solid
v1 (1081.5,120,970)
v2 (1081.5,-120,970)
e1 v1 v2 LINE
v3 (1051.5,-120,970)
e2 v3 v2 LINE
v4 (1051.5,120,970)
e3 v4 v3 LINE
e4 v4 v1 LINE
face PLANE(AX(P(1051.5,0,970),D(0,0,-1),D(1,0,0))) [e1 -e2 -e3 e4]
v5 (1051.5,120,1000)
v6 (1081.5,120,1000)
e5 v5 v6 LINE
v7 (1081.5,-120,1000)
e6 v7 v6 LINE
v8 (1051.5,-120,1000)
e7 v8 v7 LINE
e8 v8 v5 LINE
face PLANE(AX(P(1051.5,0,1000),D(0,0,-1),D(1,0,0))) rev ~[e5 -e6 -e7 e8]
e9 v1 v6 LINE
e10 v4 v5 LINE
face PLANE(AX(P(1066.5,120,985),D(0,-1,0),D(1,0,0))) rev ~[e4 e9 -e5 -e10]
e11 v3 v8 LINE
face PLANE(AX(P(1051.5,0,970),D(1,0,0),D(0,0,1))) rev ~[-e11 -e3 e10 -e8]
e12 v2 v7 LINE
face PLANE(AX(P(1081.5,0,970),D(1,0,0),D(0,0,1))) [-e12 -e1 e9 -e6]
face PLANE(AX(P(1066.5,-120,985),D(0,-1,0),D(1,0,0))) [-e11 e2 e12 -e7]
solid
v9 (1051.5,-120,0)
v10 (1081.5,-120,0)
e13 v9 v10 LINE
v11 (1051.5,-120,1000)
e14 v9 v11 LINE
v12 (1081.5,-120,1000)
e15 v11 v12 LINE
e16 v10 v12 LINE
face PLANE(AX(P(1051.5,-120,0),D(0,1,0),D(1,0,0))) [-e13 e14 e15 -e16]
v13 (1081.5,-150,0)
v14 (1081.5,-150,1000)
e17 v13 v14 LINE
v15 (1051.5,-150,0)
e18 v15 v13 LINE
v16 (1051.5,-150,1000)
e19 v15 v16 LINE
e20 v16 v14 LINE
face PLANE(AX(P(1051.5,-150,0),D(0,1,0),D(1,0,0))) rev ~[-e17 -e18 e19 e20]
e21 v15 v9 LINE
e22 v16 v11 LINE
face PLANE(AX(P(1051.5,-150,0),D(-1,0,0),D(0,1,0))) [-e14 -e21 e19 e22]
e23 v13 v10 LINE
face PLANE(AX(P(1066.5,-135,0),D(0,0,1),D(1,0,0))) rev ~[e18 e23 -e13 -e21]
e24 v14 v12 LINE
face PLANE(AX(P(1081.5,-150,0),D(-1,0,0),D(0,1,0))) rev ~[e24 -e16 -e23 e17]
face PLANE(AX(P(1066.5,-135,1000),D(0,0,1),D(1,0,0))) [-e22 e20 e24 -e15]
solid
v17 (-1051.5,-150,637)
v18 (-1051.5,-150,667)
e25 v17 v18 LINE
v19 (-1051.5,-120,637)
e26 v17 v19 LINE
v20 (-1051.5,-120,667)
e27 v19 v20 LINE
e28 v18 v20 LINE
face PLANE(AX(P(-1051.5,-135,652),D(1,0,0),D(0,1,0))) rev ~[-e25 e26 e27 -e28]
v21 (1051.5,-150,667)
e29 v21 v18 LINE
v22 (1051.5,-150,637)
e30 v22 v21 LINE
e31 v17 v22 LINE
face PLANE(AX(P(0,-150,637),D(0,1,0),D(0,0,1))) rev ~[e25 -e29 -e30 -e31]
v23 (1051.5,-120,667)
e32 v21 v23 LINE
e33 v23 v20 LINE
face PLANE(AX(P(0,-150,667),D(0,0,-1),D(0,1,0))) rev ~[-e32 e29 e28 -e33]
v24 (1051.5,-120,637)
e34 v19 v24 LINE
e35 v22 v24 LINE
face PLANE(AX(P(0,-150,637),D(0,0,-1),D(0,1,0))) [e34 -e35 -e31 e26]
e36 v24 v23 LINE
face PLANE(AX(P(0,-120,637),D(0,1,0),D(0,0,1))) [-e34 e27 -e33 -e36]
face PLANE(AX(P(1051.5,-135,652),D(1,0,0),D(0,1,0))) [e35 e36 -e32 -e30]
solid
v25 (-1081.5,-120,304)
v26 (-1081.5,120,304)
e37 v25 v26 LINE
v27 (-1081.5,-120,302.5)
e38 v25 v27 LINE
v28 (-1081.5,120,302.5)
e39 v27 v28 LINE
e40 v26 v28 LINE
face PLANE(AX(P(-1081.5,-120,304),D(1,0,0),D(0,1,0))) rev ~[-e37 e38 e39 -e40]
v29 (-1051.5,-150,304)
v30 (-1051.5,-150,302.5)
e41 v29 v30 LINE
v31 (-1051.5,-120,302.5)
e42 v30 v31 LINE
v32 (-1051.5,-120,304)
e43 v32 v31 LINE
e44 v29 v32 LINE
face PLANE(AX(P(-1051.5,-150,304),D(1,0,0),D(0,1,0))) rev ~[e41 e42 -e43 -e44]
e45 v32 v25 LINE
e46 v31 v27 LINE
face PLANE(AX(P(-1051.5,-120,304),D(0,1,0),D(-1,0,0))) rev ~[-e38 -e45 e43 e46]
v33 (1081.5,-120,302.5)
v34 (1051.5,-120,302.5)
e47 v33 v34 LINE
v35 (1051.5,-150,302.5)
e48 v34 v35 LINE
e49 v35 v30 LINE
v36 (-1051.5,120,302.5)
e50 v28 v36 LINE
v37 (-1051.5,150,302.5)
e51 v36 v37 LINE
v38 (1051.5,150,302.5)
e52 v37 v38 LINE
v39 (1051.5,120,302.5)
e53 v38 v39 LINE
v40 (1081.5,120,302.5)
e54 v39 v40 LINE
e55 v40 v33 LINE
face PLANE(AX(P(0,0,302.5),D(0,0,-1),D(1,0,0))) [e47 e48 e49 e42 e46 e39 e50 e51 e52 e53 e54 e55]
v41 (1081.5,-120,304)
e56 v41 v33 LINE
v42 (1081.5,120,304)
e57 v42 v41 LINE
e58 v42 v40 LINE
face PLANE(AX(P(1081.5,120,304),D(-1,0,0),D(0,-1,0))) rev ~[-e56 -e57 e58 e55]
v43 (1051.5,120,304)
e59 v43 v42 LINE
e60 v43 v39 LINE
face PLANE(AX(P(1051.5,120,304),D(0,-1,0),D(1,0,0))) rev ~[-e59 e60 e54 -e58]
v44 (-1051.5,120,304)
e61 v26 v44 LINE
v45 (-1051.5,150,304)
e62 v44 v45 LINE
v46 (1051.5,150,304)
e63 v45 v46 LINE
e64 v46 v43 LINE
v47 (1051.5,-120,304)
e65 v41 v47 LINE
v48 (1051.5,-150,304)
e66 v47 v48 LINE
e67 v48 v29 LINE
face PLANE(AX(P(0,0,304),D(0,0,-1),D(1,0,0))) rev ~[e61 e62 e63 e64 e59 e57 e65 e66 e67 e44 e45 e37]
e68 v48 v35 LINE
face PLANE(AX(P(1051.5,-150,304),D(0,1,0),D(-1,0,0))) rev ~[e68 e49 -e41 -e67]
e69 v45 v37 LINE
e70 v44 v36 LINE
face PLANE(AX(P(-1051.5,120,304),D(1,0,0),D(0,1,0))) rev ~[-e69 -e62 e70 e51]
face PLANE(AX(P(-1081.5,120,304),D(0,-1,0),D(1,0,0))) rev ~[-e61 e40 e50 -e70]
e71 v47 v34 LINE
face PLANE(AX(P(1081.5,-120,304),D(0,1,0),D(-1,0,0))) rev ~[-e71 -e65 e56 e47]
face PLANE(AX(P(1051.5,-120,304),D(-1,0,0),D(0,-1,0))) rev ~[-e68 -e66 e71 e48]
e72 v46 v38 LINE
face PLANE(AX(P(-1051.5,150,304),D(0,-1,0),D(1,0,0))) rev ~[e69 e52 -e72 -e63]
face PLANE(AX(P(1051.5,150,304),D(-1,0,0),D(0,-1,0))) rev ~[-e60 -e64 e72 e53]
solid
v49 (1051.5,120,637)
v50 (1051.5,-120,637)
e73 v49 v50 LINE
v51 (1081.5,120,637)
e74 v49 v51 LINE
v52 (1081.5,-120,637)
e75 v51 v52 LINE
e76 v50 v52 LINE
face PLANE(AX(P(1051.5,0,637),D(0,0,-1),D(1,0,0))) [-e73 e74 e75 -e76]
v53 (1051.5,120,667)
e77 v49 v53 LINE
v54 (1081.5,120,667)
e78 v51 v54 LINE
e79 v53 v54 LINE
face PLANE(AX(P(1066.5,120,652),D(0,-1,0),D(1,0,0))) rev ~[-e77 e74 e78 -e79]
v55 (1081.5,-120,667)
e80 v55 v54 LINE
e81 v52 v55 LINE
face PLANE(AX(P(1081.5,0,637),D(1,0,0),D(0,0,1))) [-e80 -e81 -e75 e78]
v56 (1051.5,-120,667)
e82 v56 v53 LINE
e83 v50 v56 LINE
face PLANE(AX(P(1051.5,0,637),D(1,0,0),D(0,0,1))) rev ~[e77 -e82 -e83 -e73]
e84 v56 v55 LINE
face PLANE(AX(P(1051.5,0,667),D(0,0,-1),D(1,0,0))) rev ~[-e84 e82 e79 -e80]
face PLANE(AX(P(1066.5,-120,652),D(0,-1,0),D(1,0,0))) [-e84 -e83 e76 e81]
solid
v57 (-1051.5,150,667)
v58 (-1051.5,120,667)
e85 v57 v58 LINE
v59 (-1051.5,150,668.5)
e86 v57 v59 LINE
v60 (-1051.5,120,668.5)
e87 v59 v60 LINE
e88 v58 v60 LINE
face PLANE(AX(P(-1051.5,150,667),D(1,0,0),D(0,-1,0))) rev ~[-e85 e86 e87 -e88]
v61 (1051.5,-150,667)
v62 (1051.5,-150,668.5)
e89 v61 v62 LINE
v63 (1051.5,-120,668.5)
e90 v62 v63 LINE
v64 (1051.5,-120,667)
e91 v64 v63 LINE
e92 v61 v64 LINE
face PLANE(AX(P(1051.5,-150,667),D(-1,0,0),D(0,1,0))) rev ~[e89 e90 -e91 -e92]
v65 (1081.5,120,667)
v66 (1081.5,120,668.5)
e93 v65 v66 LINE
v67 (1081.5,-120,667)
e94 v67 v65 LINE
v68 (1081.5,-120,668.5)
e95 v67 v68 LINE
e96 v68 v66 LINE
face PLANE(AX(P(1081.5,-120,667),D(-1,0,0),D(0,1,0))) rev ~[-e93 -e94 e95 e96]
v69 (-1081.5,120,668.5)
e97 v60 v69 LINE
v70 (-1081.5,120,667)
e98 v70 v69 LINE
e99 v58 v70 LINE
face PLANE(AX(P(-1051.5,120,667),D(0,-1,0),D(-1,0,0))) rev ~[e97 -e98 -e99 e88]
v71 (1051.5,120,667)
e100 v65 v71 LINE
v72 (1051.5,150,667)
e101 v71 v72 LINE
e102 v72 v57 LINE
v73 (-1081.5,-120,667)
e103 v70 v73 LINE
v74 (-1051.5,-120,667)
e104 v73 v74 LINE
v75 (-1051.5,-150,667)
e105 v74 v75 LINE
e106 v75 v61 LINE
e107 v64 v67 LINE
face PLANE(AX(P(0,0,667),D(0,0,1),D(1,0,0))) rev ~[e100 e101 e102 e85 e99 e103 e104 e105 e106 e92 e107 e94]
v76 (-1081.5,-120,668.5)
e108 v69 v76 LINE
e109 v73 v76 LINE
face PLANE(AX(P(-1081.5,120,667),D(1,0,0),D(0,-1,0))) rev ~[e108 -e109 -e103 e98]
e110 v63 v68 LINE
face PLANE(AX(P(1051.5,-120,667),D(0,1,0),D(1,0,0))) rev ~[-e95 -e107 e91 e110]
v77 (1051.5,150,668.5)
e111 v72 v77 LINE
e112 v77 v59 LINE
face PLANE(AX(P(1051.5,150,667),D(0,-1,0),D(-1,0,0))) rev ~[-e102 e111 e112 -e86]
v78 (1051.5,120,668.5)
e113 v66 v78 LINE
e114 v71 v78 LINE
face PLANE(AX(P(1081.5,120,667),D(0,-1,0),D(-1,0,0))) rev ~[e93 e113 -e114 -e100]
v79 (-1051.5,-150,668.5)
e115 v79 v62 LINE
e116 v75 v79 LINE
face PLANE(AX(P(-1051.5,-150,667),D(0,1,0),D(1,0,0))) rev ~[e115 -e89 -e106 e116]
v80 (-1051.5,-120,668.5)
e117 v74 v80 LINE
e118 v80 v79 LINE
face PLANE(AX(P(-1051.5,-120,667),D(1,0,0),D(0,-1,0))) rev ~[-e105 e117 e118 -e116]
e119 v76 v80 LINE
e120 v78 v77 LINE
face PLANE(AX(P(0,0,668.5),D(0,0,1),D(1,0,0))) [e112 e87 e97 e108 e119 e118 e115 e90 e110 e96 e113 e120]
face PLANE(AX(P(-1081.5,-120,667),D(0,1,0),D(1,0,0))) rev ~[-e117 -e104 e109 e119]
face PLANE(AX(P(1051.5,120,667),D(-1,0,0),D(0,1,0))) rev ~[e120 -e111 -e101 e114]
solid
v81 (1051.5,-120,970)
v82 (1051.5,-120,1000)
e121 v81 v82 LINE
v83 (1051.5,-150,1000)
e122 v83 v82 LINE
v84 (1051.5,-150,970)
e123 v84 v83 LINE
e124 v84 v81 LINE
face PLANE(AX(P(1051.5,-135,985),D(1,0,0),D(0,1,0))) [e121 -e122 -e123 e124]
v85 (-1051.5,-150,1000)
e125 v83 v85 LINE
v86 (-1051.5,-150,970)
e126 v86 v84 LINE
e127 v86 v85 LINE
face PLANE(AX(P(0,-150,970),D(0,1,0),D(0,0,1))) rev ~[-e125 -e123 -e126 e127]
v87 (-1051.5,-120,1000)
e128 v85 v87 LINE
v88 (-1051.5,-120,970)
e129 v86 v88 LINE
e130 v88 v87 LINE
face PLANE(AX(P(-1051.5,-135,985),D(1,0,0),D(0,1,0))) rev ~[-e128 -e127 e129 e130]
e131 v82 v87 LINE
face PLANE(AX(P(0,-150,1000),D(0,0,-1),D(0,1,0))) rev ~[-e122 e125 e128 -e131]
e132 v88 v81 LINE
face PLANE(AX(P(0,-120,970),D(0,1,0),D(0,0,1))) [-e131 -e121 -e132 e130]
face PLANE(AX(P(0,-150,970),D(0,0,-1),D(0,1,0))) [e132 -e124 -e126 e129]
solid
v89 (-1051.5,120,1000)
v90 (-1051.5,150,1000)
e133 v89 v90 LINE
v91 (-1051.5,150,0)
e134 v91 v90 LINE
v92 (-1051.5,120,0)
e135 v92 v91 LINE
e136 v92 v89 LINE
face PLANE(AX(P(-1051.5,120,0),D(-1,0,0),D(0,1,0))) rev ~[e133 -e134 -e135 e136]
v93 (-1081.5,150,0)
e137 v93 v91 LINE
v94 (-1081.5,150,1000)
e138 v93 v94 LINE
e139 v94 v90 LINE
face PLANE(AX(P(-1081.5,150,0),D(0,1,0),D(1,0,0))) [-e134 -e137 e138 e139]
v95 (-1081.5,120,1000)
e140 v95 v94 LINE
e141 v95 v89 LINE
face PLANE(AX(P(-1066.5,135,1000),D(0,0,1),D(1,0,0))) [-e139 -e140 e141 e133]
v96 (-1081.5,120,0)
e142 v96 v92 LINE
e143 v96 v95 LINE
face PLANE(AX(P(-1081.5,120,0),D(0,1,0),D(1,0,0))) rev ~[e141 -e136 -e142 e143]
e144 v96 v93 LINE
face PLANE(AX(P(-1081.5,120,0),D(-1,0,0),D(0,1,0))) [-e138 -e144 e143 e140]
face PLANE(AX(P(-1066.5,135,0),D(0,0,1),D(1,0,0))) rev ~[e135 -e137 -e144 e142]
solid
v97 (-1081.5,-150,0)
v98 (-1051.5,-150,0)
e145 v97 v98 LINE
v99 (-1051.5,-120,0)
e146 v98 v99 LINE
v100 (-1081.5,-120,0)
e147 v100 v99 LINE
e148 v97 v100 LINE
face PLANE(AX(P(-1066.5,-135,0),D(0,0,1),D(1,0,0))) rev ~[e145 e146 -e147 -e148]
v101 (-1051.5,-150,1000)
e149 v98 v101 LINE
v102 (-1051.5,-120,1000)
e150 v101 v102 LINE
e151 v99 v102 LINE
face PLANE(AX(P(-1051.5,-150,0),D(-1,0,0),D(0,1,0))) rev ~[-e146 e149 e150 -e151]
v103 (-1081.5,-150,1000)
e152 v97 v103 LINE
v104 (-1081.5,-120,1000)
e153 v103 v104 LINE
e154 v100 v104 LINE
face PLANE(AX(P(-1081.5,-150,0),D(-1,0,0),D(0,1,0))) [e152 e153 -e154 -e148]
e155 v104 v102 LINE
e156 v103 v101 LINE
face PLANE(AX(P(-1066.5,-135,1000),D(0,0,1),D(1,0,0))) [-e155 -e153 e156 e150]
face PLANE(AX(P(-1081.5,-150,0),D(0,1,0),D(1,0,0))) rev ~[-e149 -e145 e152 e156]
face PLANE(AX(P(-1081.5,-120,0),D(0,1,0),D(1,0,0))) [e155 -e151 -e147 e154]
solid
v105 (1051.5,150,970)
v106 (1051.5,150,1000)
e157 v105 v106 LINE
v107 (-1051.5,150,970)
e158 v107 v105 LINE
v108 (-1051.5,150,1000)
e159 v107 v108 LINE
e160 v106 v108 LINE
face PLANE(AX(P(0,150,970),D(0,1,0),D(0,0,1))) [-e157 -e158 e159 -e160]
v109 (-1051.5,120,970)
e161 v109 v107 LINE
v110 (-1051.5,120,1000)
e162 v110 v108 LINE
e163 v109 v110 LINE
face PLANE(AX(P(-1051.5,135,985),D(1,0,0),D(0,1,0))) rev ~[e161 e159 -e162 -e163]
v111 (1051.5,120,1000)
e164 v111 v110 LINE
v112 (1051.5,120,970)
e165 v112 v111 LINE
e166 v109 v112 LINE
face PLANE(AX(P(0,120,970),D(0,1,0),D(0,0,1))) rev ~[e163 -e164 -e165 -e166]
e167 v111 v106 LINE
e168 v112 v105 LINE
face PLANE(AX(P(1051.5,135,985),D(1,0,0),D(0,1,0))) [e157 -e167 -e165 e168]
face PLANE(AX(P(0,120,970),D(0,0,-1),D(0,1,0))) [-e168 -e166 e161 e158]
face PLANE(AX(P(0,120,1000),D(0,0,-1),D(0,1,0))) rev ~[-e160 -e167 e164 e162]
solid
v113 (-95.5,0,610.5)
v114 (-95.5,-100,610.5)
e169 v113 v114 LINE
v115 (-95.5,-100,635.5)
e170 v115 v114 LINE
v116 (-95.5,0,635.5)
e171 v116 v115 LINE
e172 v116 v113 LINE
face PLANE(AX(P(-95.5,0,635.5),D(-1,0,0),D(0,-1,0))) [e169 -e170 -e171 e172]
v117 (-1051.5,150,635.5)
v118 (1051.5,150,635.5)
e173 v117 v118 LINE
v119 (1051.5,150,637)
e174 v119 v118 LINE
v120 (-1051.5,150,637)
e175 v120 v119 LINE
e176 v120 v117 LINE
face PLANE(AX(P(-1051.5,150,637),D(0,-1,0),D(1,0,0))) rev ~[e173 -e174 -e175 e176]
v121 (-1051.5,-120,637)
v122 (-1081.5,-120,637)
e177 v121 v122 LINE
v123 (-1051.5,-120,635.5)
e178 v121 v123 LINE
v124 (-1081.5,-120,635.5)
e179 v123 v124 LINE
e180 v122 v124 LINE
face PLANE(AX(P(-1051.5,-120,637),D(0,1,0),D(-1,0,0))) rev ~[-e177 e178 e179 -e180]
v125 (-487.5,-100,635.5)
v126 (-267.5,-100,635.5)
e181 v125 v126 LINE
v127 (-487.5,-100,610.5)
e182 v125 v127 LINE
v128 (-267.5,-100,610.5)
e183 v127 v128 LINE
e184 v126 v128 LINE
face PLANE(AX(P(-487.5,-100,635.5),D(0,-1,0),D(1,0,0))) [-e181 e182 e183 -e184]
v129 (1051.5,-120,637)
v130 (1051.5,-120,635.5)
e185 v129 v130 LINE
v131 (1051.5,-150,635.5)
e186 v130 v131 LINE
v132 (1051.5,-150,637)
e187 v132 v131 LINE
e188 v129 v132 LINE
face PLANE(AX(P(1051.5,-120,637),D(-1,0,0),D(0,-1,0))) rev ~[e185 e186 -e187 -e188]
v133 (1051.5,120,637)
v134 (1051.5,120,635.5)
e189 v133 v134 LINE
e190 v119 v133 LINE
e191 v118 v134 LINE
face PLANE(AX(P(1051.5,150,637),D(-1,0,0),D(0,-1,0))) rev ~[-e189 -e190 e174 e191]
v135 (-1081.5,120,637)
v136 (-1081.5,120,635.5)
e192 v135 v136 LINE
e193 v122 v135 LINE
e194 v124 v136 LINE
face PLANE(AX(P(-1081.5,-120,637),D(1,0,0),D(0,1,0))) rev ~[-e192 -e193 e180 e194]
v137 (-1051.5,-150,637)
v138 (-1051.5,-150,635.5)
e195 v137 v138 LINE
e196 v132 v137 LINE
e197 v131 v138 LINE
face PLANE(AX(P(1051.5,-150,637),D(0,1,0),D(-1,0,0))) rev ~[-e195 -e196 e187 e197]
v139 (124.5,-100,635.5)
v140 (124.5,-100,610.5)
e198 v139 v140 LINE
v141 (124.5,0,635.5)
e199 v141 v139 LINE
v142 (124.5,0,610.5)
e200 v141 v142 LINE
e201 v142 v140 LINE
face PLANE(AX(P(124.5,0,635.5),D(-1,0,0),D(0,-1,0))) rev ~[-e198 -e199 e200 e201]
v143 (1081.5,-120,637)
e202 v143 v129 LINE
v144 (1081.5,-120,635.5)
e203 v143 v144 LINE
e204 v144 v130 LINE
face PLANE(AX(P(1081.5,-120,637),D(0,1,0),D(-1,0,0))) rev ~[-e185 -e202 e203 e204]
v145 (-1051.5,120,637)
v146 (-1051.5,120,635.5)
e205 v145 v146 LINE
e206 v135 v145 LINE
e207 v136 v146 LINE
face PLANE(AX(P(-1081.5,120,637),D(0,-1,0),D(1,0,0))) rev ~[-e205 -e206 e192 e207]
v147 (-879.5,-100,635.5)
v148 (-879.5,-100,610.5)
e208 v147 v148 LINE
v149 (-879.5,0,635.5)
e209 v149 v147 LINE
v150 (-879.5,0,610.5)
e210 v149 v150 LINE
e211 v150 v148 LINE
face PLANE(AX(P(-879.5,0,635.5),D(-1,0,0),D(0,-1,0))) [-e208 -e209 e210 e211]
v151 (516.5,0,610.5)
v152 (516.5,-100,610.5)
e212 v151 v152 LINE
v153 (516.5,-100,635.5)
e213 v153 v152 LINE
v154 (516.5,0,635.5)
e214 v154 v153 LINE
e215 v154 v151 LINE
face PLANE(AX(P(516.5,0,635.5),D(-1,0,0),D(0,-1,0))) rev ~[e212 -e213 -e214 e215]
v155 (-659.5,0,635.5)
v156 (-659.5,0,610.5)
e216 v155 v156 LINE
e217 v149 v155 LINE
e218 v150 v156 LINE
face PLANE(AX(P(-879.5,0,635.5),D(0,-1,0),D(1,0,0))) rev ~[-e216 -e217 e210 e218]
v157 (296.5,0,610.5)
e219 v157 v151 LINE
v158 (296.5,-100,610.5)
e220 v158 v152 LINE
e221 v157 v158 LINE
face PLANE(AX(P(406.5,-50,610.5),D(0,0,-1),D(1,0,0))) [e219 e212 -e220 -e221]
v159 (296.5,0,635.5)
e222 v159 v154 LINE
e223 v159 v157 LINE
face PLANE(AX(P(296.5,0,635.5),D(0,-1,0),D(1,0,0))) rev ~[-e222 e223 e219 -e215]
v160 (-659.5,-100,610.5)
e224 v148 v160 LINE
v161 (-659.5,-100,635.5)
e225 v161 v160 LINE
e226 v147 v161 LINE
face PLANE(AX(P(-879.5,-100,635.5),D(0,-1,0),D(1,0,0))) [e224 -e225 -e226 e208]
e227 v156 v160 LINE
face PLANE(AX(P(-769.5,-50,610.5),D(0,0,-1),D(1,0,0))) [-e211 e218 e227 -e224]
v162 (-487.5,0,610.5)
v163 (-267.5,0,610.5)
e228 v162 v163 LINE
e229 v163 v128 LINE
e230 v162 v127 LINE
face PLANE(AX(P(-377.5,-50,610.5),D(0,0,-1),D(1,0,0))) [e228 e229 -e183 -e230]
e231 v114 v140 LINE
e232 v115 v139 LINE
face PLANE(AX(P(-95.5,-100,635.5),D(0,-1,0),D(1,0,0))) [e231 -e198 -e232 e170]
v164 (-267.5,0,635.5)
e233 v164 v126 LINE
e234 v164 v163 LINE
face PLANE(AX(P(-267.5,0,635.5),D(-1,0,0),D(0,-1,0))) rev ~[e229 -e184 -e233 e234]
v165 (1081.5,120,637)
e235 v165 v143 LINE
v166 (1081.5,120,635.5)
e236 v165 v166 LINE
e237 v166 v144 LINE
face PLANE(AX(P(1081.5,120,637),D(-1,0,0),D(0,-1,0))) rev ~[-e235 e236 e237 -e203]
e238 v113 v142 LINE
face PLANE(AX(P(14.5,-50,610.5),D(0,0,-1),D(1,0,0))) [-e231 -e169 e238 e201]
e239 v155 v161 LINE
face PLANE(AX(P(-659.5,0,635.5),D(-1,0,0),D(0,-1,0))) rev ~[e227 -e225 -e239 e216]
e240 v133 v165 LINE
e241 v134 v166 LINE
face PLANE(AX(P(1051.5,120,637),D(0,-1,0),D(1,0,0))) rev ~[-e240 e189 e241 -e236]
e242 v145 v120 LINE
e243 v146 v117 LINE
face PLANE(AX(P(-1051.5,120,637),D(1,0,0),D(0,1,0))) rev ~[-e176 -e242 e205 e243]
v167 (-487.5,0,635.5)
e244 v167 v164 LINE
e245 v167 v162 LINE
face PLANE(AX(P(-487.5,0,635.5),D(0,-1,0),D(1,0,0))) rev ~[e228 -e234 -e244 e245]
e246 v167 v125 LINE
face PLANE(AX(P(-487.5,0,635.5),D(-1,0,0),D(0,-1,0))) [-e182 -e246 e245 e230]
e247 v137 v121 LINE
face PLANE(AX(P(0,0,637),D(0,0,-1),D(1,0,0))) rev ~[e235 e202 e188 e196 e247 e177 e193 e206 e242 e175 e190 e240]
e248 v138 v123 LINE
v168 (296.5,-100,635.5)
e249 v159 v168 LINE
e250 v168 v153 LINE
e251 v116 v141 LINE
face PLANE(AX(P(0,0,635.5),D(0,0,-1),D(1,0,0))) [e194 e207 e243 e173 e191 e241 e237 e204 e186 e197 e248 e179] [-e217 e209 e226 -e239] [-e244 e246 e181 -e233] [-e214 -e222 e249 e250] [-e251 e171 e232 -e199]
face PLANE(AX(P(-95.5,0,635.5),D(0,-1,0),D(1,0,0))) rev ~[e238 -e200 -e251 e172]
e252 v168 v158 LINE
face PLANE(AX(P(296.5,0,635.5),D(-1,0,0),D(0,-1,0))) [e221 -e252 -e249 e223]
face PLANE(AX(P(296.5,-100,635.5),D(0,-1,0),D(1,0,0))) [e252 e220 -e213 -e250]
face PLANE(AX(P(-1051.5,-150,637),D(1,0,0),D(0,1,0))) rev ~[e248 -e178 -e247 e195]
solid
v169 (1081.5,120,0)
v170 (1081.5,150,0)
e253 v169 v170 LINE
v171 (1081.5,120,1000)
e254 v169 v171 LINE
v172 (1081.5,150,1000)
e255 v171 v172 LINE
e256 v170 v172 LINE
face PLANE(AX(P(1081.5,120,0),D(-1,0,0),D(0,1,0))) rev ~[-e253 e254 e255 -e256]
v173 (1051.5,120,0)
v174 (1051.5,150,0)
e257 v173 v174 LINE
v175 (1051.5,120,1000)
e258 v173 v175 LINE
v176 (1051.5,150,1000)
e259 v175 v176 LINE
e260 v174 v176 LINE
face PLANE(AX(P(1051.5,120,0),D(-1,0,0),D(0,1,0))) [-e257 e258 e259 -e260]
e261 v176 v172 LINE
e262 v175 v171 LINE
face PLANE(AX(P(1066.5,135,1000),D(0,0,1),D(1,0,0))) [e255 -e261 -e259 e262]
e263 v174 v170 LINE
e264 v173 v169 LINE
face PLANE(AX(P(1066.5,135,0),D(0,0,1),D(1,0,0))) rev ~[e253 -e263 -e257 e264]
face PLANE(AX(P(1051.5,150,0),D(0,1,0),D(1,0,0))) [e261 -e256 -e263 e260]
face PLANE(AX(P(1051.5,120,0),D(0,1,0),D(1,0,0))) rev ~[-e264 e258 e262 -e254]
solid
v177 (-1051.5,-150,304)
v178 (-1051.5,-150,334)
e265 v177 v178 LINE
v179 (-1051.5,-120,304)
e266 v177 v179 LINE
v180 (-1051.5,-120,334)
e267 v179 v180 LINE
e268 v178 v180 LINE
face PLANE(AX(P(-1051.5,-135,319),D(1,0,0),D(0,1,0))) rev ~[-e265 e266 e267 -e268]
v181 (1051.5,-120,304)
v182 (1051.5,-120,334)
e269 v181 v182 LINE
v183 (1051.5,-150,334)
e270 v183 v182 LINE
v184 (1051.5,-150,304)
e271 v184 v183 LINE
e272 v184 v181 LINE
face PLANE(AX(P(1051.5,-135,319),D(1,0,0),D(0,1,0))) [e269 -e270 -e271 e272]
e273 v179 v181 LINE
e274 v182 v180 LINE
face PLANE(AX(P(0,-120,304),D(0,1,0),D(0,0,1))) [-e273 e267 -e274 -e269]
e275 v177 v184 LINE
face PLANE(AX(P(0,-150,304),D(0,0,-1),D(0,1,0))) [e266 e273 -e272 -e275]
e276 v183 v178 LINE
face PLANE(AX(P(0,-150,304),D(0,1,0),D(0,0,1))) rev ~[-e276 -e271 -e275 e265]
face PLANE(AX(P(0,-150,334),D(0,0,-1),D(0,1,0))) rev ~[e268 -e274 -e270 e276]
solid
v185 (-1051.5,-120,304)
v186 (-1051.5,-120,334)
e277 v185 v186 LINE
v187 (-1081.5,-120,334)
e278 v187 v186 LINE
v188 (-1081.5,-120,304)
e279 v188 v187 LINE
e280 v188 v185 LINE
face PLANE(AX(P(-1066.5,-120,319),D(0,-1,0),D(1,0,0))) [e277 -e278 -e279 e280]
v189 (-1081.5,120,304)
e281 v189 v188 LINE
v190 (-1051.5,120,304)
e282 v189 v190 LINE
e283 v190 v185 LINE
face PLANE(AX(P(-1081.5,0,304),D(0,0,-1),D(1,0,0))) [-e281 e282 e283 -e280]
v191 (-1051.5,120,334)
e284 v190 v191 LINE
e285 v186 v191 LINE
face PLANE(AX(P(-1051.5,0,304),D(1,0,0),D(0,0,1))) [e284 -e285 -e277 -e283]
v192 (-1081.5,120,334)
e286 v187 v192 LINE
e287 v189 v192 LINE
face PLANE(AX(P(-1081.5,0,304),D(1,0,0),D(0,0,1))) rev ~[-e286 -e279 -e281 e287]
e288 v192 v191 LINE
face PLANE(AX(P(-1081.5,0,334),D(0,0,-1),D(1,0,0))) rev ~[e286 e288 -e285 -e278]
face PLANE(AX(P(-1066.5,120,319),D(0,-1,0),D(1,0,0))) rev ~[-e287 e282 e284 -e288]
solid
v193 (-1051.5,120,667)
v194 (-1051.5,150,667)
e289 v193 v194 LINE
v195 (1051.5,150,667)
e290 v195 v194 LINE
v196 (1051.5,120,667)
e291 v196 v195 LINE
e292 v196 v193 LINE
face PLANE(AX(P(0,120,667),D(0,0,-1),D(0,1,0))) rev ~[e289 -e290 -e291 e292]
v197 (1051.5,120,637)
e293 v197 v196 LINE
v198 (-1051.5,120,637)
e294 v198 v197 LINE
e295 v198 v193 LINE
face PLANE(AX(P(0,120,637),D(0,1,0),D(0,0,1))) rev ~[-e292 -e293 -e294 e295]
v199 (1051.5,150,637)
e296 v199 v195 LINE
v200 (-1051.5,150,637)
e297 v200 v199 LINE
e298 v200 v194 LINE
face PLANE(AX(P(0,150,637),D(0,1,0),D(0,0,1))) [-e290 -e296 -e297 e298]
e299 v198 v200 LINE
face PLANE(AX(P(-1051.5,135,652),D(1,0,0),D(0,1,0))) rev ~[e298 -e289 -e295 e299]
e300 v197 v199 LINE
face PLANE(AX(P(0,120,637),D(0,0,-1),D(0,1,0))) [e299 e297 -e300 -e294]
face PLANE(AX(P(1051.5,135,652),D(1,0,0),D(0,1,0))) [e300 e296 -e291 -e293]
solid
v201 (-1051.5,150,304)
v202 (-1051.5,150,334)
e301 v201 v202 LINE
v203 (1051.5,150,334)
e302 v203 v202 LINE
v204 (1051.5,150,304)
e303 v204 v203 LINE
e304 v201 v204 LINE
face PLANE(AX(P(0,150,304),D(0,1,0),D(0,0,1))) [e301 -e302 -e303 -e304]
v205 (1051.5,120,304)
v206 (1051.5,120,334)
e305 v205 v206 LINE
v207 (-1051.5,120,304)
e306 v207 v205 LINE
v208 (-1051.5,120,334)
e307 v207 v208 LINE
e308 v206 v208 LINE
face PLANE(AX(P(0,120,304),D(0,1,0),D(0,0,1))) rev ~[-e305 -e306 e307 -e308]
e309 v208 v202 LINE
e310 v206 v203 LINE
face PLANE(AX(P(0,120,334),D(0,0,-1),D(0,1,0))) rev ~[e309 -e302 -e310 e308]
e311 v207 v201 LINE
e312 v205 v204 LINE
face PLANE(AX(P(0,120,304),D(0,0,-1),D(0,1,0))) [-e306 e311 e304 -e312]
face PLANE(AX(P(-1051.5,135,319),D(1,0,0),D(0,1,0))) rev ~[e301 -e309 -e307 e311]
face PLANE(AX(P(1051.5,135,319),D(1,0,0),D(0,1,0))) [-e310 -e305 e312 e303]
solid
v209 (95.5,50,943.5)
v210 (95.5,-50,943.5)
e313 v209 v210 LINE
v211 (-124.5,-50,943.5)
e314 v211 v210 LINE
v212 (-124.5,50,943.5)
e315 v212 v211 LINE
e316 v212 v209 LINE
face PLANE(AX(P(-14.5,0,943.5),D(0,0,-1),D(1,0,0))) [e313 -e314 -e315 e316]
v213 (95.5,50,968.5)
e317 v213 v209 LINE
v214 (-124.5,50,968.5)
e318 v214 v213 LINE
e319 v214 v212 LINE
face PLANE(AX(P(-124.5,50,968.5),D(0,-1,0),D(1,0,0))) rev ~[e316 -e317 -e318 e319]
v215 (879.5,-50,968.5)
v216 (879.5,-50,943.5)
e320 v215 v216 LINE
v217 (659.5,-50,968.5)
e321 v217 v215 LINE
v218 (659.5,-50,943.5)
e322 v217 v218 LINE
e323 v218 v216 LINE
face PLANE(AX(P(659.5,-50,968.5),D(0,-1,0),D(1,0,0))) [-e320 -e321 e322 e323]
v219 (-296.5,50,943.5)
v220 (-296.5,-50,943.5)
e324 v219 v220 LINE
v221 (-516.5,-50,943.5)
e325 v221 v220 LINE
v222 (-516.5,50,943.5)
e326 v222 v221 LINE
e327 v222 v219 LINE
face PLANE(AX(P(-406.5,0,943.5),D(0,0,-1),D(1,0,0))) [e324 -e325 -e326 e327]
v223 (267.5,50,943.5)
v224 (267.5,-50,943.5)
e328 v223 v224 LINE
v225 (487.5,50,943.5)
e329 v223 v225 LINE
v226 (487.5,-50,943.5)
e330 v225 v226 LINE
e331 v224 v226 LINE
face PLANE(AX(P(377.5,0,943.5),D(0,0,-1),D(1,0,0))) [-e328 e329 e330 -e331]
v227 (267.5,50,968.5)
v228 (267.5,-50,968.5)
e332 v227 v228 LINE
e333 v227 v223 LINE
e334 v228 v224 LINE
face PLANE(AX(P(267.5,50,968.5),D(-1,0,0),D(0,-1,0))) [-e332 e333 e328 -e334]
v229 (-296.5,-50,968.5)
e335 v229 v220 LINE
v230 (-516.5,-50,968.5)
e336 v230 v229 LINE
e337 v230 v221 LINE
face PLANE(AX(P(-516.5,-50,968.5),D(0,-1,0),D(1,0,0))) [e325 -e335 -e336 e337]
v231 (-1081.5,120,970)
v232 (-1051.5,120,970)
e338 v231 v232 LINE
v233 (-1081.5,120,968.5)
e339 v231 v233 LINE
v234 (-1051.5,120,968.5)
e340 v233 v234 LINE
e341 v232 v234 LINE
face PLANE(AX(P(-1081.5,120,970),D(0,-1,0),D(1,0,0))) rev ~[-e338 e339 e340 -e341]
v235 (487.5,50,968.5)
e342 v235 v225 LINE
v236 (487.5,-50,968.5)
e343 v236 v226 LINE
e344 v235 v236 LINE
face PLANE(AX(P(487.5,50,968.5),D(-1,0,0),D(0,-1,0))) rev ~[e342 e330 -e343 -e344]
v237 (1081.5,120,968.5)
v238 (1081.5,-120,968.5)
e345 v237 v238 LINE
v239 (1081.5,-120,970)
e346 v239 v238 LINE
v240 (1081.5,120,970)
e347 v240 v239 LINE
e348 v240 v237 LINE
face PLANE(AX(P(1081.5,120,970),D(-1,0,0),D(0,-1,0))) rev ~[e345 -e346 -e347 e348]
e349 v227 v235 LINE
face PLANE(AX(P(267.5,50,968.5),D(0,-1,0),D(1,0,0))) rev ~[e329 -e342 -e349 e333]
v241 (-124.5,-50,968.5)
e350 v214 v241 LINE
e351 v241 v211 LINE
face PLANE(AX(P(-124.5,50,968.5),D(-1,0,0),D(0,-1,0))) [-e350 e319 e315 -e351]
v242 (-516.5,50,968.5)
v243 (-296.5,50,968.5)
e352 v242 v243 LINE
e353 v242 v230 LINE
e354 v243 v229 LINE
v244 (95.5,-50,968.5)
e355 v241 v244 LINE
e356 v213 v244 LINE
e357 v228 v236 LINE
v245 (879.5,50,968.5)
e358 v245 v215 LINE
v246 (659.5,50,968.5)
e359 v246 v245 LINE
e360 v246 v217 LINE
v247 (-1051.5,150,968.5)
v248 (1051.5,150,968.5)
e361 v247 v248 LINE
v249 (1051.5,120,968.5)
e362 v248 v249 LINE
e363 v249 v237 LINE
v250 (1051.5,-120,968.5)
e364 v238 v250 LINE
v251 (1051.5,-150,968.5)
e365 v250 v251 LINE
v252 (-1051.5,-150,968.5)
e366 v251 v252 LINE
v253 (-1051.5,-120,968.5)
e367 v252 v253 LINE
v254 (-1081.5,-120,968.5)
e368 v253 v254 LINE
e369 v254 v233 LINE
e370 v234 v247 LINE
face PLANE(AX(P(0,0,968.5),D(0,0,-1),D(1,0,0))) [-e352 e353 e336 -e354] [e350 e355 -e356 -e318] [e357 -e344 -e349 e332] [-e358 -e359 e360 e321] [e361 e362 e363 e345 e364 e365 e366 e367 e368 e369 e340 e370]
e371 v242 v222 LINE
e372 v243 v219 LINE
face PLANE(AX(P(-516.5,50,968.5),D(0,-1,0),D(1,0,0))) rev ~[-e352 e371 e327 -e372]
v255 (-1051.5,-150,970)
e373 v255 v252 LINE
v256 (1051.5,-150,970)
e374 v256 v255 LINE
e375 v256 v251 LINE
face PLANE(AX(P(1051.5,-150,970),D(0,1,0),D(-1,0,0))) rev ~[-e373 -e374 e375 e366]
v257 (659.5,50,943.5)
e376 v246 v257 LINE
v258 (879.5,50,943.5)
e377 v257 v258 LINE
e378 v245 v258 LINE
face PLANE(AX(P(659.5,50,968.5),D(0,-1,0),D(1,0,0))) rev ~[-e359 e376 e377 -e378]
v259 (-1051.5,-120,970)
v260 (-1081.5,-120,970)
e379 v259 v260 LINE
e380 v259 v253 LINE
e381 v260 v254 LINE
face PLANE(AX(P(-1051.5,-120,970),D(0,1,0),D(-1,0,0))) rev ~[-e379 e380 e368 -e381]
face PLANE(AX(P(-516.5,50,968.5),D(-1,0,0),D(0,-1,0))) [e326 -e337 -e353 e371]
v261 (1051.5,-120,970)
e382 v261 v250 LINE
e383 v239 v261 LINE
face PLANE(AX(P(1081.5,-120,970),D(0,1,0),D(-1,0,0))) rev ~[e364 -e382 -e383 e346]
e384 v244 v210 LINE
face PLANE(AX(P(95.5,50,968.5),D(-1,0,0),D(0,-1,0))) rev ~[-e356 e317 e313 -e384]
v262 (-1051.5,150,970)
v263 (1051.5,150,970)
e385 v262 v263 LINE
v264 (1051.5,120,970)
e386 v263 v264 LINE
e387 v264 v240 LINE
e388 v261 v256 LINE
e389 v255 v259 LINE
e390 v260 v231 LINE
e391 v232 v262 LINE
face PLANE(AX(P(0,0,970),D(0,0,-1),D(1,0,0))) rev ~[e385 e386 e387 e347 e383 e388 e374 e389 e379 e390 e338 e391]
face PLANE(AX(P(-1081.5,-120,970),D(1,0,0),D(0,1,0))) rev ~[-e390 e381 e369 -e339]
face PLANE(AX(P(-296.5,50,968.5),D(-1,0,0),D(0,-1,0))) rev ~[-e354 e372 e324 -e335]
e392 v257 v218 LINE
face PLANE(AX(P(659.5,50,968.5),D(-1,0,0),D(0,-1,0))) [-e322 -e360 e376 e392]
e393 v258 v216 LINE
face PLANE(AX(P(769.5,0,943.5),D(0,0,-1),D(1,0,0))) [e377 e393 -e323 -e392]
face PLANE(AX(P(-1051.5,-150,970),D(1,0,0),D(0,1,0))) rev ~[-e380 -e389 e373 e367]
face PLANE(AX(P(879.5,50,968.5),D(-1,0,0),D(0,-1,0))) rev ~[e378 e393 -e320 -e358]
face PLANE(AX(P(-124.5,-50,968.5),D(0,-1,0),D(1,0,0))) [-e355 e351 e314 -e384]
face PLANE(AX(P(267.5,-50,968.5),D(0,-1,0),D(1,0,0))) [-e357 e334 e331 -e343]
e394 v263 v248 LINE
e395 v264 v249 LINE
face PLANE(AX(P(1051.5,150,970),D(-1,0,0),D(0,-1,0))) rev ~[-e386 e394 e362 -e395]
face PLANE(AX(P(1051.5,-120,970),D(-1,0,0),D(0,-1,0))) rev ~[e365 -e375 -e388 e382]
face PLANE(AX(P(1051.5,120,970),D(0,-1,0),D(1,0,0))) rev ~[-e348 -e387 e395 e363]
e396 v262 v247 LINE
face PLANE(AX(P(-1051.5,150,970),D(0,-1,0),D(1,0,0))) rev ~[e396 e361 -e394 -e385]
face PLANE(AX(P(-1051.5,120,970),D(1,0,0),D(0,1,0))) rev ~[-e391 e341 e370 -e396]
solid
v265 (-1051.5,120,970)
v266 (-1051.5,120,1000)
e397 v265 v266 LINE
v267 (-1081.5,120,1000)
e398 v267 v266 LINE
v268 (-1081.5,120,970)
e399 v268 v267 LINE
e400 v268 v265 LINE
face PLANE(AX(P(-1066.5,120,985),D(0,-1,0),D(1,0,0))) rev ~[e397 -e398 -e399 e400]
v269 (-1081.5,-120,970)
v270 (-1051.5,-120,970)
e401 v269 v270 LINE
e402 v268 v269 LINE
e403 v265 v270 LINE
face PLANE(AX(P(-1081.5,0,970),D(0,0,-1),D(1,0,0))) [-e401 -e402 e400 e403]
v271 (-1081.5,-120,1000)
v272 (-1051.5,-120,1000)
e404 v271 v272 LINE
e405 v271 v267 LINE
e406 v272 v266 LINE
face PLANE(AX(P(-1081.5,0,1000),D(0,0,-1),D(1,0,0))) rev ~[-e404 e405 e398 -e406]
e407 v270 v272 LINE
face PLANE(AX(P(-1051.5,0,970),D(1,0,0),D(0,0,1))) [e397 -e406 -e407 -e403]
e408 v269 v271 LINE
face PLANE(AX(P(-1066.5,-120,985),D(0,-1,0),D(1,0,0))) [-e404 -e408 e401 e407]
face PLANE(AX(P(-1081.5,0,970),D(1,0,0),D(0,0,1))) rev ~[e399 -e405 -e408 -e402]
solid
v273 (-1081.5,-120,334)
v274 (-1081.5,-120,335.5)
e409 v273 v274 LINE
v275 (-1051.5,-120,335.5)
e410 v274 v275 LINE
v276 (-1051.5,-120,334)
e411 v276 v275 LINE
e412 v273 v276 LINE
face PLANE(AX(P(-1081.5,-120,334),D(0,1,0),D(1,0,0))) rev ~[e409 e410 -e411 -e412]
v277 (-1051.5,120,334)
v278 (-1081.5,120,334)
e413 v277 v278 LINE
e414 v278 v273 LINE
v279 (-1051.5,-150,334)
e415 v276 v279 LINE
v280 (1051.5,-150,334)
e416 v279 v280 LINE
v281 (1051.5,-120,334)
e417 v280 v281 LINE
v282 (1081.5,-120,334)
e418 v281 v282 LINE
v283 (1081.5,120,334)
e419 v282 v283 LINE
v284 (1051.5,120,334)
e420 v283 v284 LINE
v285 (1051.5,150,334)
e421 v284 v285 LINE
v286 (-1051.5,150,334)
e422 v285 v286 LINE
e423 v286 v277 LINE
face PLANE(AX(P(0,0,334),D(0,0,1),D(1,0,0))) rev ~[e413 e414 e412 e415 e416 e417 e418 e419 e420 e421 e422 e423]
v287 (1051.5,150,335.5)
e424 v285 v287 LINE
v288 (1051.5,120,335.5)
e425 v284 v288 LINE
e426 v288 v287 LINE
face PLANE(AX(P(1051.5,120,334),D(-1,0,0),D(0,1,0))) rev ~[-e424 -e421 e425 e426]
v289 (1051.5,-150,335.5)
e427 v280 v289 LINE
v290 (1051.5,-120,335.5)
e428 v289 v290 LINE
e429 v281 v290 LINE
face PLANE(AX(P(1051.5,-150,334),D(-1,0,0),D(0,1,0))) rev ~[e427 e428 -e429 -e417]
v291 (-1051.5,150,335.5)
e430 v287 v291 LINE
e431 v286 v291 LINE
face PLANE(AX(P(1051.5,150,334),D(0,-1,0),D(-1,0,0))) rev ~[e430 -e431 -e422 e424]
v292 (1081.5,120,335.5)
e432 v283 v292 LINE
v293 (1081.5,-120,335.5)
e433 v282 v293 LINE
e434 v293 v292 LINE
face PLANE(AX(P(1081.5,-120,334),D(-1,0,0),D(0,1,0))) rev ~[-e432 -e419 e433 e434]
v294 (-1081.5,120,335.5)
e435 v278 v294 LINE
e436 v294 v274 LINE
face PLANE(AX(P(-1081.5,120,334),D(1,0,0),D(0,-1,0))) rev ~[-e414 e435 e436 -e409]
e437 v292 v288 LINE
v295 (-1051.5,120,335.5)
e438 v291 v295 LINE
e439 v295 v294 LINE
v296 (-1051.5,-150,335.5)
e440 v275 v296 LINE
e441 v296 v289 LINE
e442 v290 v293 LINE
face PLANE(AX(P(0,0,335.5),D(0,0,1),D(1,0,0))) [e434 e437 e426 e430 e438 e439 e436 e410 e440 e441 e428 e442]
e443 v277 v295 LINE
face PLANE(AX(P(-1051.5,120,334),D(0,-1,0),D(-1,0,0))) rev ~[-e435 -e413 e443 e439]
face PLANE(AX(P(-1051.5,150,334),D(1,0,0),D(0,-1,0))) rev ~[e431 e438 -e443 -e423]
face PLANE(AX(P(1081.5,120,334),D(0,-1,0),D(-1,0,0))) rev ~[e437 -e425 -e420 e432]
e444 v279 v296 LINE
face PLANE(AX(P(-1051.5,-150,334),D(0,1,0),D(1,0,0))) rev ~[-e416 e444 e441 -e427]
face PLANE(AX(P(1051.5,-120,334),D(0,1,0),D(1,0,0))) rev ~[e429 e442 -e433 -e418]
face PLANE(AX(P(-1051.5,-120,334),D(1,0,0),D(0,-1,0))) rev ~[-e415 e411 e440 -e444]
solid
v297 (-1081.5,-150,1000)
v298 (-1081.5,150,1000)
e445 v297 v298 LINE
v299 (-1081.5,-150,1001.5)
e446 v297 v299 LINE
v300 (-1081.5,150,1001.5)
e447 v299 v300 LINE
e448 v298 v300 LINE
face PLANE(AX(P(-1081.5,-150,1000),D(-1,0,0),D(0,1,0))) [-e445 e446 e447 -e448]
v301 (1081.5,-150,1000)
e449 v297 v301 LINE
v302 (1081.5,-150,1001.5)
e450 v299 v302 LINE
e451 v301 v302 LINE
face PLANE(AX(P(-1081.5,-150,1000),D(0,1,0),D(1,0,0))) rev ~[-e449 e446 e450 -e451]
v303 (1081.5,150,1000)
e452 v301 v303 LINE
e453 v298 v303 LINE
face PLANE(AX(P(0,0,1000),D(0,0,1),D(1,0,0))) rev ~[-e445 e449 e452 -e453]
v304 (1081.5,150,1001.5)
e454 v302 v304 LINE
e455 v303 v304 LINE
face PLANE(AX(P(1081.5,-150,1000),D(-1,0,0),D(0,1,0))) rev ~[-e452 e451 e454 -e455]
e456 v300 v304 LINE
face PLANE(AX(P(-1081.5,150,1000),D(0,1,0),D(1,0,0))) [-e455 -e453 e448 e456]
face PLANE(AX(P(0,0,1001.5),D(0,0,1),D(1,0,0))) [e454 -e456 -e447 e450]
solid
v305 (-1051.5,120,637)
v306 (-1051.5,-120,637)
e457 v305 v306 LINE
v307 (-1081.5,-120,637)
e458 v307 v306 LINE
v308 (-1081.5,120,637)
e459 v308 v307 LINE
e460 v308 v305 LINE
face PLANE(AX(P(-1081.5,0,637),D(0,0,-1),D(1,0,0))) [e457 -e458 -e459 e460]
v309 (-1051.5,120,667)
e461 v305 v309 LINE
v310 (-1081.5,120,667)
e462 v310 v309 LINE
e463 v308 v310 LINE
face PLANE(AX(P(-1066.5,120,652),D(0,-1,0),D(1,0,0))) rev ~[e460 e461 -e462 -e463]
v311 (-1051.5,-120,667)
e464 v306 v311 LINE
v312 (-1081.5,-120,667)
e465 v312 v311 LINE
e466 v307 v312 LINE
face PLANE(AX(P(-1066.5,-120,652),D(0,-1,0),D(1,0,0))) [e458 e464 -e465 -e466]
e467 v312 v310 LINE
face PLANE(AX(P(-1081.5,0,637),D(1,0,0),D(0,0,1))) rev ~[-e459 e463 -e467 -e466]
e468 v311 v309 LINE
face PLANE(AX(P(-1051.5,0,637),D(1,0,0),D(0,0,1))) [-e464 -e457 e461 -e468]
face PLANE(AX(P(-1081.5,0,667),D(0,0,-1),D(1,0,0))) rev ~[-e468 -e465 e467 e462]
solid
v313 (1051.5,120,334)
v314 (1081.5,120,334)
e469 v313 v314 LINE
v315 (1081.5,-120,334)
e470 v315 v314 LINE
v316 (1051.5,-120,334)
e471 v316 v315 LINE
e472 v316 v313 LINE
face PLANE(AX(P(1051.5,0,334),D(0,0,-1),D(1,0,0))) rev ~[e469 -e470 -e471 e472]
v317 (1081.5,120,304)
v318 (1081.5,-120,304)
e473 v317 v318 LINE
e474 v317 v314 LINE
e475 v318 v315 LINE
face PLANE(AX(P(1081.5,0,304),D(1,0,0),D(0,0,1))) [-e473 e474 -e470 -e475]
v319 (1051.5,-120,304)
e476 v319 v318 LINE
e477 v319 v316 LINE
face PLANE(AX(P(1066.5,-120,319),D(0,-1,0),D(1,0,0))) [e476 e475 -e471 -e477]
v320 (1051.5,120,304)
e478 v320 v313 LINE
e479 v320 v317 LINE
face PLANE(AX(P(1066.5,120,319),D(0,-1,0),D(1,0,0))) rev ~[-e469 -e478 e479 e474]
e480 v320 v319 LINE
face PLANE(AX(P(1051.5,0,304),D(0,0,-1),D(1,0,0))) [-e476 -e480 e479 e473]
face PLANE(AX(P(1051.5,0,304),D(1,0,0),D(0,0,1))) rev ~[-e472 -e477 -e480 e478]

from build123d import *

# Parameters (mm, degrees)
F0_W          = 30
F0_H          = 30
F1_DEPTH      = 1000
F2_W          = 30
F2_H          = 30
F3_DEPTH      = 1051.5
F3_DEPTH_BACK = 1051.5
F4_W          = 30
F4_H          = 30
F5_DEPTH      = 120
F5_DEPTH_BACK = 120
F7_DEPTH      = 1.5
F9_DEPTH      = 1.5
F10_W         = 2163
F10_H         = 300
F11_DEPTH     = 1.5
F13_DEPTH     = 1.5
F15_DEPTH     = 1.5
F17_DEPTH     = 1.5
F18_W         = 220
F18_H         = 100
F19_DEPTH     = 25
F20_W         = 220
F20_H         = 100
F21_DEPTH     = 25


with BuildPart() as f1:
    # F0 (on Top) → F1 (new body)
    with BuildSketch(Plane.XY):
        with Locations((-1066.5, 135)):
            Rectangle(F0_W, F0_H)
        with Locations((1066.5, 135)):
            Rectangle(F0_W, F0_H)
        with Locations((1066.5, -135)):
            Rectangle(F0_W, F0_H)
        with Locations((-1066.5, -135)):
            Rectangle(F0_W, F0_H)
    extrude(amount=F1_DEPTH)


with BuildPart() as f3:
    # F2 (on Right) → F3 (new body, two sides)
    with BuildSketch(Plane.YZ) as f3_sk:
        with Locations((-135, 985)):
            Rectangle(F2_W, F2_H)
        with Locations((135, 985)):
            Rectangle(F2_W, F2_H)
        with Locations((-135, 652)):
            Rectangle(F2_W, F2_H)
        with Locations((135, 652)):
            Rectangle(F2_W, F2_H)
        with Locations((-135, 319)):
            Rectangle(F2_W, F2_H)
        with Locations((135, 319)):
            Rectangle(F2_W, F2_H)
    extrude(amount=F3_DEPTH)
    extrude(f3_sk.sketch, amount=-F3_DEPTH_BACK)


with BuildPart() as f5:
    # F4 (on Front) → F5 (new body, two sides)
    with BuildSketch(Plane.XZ) as f5_sk:
        with Locations((-1066.5, 985)):
            Rectangle(F4_W, F4_H)
        with Locations((1066.5, 985)):
            Rectangle(F4_W, F4_H)
        with Locations((-1066.5, 652)):
            Rectangle(F4_W, F4_H)
        with Locations((-1066.5, 319)):
            Rectangle(F4_W, F4_H)
        with Locations((1066.5, 652)):
            Rectangle(F4_W, F4_H)
        with Locations((1066.5, 319)):
            Rectangle(F4_W, F4_H)
    extrude(amount=F5_DEPTH)
    extrude(f5_sk.sketch, amount=-F5_DEPTH_BACK)


with BuildPart() as f7:
    # F6 (on face) → F7 (new body)
    with BuildSketch(Plane(origin=(0, 0, 304), x_dir=(1, 0, 0), z_dir=(0, 0, -1))):
        Polygon((-1051.5, 120), (-1081.5, 120), (-1081.5, -120), (-1051.5, -120), (-1051.5, -150), (1051.5, -150), (1051.5, -120), (1081.5, -120), (1081.5, 120), (1051.5, 120), (1051.5, 150), (-1051.5, 150), align=None)
    extrude(amount=F7_DEPTH)


with BuildPart() as f9:
    # F8 (on face) → F9 (new body)
    with BuildSketch(Plane(origin=(0, 0, 970), x_dir=(1, 0, 0), z_dir=(0, 0, -1))):
        Polygon((-1051.5, 120), (-1081.5, 120), (-1081.5, -120), (-1051.5, -120), (-1051.5, -150), (1051.5, -150), (1051.5, -120), (1081.5, -120), (1081.5, 120), (1051.5, 120), (1051.5, 150), (-1051.5, 150), align=None)
    extrude(amount=F9_DEPTH)

    # F18 (on face) → F19 (join)
    with BuildSketch(Plane(origin=(0, 0, 968.5), x_dir=(1, 0, 0), z_dir=(0, 0, -1))):
        with Locations((-406.5, 0)):
            Rectangle(F18_W, F18_H)
        with Locations((-14.5, 0)):
            Rectangle(F18_W, F18_H)
        with Locations((377.5, 0)):
            Rectangle(F18_W, F18_H)
        with Locations((769.5, 0)):
            Rectangle(F18_W, F18_H)
    extrude(amount=F19_DEPTH)


with BuildPart() as f11:
    # F10 (on face) → F11 (new body)
    with BuildSketch(Plane.XY.offset(1000)):
        Rectangle(F10_W, F10_H)
    extrude(amount=F11_DEPTH)


with BuildPart() as f13:
    # F12 (on face) → F13 (new body)
    with BuildSketch(Plane.XY.offset(334)):
        Polygon((-1051.5, 120), (-1081.5, 120), (-1081.5, -120), (-1051.5, -120), (-1051.5, -150), (1051.5, -150), (1051.5, -120), (1081.5, -120), (1081.5, 120), (1051.5, 120), (1051.5, 150), (-1051.5, 150), align=None)
    extrude(amount=F13_DEPTH)


with BuildPart() as f15:
    # F14 (on face) → F15 (new body)
    with BuildSketch(Plane.XY.offset(667)):
        Polygon((-1051.5, 120), (-1081.5, 120), (-1081.5, -120), (-1051.5, -120), (-1051.5, -150), (1051.5, -150), (1051.5, -120), (1081.5, -120), (1081.5, 120), (1051.5, 120), (1051.5, 150), (-1051.5, 150), align=None)
    extrude(amount=F15_DEPTH)


with BuildPart() as f17:
    # F16 (on face) → F17 (new body)
    with BuildSketch(Plane(origin=(0, 0, 637), x_dir=(1, 0, 0), z_dir=(0, 0, -1))):
        Polygon((-1051.5, 120), (-1081.5, 120), (-1081.5, -120), (-1051.5, -120), (-1051.5, -150), (1051.5, -150), (1051.5, -120), (1081.5, -120), (1081.5, 120), (1051.5, 120), (1051.5, 150), (-1051.5, 150), align=None)
    extrude(amount=F17_DEPTH)

    # F20 (on face) → F21 (join)
    with BuildSketch(Plane(origin=(0, 0, 635.5), x_dir=(1, 0, 0), z_dir=(0, 0, -1))):
        with Locations((-769.5, 50)):
            Rectangle(F20_W, F20_H)
        with Locations((-377.5, 50)):
            Rectangle(F20_W, F20_H)
        with Locations((14.5, 50)):
            Rectangle(F20_W, F20_H)
        with Locations((406.5, 50)):
            Rectangle(F20_W, F20_H)
    extrude(amount=F21_DEPTH)


solid = Compound([f1.part, f3.part, f5.part, f7.part, f9.part, f11.part, f13.part, f15.part, f17.part])
